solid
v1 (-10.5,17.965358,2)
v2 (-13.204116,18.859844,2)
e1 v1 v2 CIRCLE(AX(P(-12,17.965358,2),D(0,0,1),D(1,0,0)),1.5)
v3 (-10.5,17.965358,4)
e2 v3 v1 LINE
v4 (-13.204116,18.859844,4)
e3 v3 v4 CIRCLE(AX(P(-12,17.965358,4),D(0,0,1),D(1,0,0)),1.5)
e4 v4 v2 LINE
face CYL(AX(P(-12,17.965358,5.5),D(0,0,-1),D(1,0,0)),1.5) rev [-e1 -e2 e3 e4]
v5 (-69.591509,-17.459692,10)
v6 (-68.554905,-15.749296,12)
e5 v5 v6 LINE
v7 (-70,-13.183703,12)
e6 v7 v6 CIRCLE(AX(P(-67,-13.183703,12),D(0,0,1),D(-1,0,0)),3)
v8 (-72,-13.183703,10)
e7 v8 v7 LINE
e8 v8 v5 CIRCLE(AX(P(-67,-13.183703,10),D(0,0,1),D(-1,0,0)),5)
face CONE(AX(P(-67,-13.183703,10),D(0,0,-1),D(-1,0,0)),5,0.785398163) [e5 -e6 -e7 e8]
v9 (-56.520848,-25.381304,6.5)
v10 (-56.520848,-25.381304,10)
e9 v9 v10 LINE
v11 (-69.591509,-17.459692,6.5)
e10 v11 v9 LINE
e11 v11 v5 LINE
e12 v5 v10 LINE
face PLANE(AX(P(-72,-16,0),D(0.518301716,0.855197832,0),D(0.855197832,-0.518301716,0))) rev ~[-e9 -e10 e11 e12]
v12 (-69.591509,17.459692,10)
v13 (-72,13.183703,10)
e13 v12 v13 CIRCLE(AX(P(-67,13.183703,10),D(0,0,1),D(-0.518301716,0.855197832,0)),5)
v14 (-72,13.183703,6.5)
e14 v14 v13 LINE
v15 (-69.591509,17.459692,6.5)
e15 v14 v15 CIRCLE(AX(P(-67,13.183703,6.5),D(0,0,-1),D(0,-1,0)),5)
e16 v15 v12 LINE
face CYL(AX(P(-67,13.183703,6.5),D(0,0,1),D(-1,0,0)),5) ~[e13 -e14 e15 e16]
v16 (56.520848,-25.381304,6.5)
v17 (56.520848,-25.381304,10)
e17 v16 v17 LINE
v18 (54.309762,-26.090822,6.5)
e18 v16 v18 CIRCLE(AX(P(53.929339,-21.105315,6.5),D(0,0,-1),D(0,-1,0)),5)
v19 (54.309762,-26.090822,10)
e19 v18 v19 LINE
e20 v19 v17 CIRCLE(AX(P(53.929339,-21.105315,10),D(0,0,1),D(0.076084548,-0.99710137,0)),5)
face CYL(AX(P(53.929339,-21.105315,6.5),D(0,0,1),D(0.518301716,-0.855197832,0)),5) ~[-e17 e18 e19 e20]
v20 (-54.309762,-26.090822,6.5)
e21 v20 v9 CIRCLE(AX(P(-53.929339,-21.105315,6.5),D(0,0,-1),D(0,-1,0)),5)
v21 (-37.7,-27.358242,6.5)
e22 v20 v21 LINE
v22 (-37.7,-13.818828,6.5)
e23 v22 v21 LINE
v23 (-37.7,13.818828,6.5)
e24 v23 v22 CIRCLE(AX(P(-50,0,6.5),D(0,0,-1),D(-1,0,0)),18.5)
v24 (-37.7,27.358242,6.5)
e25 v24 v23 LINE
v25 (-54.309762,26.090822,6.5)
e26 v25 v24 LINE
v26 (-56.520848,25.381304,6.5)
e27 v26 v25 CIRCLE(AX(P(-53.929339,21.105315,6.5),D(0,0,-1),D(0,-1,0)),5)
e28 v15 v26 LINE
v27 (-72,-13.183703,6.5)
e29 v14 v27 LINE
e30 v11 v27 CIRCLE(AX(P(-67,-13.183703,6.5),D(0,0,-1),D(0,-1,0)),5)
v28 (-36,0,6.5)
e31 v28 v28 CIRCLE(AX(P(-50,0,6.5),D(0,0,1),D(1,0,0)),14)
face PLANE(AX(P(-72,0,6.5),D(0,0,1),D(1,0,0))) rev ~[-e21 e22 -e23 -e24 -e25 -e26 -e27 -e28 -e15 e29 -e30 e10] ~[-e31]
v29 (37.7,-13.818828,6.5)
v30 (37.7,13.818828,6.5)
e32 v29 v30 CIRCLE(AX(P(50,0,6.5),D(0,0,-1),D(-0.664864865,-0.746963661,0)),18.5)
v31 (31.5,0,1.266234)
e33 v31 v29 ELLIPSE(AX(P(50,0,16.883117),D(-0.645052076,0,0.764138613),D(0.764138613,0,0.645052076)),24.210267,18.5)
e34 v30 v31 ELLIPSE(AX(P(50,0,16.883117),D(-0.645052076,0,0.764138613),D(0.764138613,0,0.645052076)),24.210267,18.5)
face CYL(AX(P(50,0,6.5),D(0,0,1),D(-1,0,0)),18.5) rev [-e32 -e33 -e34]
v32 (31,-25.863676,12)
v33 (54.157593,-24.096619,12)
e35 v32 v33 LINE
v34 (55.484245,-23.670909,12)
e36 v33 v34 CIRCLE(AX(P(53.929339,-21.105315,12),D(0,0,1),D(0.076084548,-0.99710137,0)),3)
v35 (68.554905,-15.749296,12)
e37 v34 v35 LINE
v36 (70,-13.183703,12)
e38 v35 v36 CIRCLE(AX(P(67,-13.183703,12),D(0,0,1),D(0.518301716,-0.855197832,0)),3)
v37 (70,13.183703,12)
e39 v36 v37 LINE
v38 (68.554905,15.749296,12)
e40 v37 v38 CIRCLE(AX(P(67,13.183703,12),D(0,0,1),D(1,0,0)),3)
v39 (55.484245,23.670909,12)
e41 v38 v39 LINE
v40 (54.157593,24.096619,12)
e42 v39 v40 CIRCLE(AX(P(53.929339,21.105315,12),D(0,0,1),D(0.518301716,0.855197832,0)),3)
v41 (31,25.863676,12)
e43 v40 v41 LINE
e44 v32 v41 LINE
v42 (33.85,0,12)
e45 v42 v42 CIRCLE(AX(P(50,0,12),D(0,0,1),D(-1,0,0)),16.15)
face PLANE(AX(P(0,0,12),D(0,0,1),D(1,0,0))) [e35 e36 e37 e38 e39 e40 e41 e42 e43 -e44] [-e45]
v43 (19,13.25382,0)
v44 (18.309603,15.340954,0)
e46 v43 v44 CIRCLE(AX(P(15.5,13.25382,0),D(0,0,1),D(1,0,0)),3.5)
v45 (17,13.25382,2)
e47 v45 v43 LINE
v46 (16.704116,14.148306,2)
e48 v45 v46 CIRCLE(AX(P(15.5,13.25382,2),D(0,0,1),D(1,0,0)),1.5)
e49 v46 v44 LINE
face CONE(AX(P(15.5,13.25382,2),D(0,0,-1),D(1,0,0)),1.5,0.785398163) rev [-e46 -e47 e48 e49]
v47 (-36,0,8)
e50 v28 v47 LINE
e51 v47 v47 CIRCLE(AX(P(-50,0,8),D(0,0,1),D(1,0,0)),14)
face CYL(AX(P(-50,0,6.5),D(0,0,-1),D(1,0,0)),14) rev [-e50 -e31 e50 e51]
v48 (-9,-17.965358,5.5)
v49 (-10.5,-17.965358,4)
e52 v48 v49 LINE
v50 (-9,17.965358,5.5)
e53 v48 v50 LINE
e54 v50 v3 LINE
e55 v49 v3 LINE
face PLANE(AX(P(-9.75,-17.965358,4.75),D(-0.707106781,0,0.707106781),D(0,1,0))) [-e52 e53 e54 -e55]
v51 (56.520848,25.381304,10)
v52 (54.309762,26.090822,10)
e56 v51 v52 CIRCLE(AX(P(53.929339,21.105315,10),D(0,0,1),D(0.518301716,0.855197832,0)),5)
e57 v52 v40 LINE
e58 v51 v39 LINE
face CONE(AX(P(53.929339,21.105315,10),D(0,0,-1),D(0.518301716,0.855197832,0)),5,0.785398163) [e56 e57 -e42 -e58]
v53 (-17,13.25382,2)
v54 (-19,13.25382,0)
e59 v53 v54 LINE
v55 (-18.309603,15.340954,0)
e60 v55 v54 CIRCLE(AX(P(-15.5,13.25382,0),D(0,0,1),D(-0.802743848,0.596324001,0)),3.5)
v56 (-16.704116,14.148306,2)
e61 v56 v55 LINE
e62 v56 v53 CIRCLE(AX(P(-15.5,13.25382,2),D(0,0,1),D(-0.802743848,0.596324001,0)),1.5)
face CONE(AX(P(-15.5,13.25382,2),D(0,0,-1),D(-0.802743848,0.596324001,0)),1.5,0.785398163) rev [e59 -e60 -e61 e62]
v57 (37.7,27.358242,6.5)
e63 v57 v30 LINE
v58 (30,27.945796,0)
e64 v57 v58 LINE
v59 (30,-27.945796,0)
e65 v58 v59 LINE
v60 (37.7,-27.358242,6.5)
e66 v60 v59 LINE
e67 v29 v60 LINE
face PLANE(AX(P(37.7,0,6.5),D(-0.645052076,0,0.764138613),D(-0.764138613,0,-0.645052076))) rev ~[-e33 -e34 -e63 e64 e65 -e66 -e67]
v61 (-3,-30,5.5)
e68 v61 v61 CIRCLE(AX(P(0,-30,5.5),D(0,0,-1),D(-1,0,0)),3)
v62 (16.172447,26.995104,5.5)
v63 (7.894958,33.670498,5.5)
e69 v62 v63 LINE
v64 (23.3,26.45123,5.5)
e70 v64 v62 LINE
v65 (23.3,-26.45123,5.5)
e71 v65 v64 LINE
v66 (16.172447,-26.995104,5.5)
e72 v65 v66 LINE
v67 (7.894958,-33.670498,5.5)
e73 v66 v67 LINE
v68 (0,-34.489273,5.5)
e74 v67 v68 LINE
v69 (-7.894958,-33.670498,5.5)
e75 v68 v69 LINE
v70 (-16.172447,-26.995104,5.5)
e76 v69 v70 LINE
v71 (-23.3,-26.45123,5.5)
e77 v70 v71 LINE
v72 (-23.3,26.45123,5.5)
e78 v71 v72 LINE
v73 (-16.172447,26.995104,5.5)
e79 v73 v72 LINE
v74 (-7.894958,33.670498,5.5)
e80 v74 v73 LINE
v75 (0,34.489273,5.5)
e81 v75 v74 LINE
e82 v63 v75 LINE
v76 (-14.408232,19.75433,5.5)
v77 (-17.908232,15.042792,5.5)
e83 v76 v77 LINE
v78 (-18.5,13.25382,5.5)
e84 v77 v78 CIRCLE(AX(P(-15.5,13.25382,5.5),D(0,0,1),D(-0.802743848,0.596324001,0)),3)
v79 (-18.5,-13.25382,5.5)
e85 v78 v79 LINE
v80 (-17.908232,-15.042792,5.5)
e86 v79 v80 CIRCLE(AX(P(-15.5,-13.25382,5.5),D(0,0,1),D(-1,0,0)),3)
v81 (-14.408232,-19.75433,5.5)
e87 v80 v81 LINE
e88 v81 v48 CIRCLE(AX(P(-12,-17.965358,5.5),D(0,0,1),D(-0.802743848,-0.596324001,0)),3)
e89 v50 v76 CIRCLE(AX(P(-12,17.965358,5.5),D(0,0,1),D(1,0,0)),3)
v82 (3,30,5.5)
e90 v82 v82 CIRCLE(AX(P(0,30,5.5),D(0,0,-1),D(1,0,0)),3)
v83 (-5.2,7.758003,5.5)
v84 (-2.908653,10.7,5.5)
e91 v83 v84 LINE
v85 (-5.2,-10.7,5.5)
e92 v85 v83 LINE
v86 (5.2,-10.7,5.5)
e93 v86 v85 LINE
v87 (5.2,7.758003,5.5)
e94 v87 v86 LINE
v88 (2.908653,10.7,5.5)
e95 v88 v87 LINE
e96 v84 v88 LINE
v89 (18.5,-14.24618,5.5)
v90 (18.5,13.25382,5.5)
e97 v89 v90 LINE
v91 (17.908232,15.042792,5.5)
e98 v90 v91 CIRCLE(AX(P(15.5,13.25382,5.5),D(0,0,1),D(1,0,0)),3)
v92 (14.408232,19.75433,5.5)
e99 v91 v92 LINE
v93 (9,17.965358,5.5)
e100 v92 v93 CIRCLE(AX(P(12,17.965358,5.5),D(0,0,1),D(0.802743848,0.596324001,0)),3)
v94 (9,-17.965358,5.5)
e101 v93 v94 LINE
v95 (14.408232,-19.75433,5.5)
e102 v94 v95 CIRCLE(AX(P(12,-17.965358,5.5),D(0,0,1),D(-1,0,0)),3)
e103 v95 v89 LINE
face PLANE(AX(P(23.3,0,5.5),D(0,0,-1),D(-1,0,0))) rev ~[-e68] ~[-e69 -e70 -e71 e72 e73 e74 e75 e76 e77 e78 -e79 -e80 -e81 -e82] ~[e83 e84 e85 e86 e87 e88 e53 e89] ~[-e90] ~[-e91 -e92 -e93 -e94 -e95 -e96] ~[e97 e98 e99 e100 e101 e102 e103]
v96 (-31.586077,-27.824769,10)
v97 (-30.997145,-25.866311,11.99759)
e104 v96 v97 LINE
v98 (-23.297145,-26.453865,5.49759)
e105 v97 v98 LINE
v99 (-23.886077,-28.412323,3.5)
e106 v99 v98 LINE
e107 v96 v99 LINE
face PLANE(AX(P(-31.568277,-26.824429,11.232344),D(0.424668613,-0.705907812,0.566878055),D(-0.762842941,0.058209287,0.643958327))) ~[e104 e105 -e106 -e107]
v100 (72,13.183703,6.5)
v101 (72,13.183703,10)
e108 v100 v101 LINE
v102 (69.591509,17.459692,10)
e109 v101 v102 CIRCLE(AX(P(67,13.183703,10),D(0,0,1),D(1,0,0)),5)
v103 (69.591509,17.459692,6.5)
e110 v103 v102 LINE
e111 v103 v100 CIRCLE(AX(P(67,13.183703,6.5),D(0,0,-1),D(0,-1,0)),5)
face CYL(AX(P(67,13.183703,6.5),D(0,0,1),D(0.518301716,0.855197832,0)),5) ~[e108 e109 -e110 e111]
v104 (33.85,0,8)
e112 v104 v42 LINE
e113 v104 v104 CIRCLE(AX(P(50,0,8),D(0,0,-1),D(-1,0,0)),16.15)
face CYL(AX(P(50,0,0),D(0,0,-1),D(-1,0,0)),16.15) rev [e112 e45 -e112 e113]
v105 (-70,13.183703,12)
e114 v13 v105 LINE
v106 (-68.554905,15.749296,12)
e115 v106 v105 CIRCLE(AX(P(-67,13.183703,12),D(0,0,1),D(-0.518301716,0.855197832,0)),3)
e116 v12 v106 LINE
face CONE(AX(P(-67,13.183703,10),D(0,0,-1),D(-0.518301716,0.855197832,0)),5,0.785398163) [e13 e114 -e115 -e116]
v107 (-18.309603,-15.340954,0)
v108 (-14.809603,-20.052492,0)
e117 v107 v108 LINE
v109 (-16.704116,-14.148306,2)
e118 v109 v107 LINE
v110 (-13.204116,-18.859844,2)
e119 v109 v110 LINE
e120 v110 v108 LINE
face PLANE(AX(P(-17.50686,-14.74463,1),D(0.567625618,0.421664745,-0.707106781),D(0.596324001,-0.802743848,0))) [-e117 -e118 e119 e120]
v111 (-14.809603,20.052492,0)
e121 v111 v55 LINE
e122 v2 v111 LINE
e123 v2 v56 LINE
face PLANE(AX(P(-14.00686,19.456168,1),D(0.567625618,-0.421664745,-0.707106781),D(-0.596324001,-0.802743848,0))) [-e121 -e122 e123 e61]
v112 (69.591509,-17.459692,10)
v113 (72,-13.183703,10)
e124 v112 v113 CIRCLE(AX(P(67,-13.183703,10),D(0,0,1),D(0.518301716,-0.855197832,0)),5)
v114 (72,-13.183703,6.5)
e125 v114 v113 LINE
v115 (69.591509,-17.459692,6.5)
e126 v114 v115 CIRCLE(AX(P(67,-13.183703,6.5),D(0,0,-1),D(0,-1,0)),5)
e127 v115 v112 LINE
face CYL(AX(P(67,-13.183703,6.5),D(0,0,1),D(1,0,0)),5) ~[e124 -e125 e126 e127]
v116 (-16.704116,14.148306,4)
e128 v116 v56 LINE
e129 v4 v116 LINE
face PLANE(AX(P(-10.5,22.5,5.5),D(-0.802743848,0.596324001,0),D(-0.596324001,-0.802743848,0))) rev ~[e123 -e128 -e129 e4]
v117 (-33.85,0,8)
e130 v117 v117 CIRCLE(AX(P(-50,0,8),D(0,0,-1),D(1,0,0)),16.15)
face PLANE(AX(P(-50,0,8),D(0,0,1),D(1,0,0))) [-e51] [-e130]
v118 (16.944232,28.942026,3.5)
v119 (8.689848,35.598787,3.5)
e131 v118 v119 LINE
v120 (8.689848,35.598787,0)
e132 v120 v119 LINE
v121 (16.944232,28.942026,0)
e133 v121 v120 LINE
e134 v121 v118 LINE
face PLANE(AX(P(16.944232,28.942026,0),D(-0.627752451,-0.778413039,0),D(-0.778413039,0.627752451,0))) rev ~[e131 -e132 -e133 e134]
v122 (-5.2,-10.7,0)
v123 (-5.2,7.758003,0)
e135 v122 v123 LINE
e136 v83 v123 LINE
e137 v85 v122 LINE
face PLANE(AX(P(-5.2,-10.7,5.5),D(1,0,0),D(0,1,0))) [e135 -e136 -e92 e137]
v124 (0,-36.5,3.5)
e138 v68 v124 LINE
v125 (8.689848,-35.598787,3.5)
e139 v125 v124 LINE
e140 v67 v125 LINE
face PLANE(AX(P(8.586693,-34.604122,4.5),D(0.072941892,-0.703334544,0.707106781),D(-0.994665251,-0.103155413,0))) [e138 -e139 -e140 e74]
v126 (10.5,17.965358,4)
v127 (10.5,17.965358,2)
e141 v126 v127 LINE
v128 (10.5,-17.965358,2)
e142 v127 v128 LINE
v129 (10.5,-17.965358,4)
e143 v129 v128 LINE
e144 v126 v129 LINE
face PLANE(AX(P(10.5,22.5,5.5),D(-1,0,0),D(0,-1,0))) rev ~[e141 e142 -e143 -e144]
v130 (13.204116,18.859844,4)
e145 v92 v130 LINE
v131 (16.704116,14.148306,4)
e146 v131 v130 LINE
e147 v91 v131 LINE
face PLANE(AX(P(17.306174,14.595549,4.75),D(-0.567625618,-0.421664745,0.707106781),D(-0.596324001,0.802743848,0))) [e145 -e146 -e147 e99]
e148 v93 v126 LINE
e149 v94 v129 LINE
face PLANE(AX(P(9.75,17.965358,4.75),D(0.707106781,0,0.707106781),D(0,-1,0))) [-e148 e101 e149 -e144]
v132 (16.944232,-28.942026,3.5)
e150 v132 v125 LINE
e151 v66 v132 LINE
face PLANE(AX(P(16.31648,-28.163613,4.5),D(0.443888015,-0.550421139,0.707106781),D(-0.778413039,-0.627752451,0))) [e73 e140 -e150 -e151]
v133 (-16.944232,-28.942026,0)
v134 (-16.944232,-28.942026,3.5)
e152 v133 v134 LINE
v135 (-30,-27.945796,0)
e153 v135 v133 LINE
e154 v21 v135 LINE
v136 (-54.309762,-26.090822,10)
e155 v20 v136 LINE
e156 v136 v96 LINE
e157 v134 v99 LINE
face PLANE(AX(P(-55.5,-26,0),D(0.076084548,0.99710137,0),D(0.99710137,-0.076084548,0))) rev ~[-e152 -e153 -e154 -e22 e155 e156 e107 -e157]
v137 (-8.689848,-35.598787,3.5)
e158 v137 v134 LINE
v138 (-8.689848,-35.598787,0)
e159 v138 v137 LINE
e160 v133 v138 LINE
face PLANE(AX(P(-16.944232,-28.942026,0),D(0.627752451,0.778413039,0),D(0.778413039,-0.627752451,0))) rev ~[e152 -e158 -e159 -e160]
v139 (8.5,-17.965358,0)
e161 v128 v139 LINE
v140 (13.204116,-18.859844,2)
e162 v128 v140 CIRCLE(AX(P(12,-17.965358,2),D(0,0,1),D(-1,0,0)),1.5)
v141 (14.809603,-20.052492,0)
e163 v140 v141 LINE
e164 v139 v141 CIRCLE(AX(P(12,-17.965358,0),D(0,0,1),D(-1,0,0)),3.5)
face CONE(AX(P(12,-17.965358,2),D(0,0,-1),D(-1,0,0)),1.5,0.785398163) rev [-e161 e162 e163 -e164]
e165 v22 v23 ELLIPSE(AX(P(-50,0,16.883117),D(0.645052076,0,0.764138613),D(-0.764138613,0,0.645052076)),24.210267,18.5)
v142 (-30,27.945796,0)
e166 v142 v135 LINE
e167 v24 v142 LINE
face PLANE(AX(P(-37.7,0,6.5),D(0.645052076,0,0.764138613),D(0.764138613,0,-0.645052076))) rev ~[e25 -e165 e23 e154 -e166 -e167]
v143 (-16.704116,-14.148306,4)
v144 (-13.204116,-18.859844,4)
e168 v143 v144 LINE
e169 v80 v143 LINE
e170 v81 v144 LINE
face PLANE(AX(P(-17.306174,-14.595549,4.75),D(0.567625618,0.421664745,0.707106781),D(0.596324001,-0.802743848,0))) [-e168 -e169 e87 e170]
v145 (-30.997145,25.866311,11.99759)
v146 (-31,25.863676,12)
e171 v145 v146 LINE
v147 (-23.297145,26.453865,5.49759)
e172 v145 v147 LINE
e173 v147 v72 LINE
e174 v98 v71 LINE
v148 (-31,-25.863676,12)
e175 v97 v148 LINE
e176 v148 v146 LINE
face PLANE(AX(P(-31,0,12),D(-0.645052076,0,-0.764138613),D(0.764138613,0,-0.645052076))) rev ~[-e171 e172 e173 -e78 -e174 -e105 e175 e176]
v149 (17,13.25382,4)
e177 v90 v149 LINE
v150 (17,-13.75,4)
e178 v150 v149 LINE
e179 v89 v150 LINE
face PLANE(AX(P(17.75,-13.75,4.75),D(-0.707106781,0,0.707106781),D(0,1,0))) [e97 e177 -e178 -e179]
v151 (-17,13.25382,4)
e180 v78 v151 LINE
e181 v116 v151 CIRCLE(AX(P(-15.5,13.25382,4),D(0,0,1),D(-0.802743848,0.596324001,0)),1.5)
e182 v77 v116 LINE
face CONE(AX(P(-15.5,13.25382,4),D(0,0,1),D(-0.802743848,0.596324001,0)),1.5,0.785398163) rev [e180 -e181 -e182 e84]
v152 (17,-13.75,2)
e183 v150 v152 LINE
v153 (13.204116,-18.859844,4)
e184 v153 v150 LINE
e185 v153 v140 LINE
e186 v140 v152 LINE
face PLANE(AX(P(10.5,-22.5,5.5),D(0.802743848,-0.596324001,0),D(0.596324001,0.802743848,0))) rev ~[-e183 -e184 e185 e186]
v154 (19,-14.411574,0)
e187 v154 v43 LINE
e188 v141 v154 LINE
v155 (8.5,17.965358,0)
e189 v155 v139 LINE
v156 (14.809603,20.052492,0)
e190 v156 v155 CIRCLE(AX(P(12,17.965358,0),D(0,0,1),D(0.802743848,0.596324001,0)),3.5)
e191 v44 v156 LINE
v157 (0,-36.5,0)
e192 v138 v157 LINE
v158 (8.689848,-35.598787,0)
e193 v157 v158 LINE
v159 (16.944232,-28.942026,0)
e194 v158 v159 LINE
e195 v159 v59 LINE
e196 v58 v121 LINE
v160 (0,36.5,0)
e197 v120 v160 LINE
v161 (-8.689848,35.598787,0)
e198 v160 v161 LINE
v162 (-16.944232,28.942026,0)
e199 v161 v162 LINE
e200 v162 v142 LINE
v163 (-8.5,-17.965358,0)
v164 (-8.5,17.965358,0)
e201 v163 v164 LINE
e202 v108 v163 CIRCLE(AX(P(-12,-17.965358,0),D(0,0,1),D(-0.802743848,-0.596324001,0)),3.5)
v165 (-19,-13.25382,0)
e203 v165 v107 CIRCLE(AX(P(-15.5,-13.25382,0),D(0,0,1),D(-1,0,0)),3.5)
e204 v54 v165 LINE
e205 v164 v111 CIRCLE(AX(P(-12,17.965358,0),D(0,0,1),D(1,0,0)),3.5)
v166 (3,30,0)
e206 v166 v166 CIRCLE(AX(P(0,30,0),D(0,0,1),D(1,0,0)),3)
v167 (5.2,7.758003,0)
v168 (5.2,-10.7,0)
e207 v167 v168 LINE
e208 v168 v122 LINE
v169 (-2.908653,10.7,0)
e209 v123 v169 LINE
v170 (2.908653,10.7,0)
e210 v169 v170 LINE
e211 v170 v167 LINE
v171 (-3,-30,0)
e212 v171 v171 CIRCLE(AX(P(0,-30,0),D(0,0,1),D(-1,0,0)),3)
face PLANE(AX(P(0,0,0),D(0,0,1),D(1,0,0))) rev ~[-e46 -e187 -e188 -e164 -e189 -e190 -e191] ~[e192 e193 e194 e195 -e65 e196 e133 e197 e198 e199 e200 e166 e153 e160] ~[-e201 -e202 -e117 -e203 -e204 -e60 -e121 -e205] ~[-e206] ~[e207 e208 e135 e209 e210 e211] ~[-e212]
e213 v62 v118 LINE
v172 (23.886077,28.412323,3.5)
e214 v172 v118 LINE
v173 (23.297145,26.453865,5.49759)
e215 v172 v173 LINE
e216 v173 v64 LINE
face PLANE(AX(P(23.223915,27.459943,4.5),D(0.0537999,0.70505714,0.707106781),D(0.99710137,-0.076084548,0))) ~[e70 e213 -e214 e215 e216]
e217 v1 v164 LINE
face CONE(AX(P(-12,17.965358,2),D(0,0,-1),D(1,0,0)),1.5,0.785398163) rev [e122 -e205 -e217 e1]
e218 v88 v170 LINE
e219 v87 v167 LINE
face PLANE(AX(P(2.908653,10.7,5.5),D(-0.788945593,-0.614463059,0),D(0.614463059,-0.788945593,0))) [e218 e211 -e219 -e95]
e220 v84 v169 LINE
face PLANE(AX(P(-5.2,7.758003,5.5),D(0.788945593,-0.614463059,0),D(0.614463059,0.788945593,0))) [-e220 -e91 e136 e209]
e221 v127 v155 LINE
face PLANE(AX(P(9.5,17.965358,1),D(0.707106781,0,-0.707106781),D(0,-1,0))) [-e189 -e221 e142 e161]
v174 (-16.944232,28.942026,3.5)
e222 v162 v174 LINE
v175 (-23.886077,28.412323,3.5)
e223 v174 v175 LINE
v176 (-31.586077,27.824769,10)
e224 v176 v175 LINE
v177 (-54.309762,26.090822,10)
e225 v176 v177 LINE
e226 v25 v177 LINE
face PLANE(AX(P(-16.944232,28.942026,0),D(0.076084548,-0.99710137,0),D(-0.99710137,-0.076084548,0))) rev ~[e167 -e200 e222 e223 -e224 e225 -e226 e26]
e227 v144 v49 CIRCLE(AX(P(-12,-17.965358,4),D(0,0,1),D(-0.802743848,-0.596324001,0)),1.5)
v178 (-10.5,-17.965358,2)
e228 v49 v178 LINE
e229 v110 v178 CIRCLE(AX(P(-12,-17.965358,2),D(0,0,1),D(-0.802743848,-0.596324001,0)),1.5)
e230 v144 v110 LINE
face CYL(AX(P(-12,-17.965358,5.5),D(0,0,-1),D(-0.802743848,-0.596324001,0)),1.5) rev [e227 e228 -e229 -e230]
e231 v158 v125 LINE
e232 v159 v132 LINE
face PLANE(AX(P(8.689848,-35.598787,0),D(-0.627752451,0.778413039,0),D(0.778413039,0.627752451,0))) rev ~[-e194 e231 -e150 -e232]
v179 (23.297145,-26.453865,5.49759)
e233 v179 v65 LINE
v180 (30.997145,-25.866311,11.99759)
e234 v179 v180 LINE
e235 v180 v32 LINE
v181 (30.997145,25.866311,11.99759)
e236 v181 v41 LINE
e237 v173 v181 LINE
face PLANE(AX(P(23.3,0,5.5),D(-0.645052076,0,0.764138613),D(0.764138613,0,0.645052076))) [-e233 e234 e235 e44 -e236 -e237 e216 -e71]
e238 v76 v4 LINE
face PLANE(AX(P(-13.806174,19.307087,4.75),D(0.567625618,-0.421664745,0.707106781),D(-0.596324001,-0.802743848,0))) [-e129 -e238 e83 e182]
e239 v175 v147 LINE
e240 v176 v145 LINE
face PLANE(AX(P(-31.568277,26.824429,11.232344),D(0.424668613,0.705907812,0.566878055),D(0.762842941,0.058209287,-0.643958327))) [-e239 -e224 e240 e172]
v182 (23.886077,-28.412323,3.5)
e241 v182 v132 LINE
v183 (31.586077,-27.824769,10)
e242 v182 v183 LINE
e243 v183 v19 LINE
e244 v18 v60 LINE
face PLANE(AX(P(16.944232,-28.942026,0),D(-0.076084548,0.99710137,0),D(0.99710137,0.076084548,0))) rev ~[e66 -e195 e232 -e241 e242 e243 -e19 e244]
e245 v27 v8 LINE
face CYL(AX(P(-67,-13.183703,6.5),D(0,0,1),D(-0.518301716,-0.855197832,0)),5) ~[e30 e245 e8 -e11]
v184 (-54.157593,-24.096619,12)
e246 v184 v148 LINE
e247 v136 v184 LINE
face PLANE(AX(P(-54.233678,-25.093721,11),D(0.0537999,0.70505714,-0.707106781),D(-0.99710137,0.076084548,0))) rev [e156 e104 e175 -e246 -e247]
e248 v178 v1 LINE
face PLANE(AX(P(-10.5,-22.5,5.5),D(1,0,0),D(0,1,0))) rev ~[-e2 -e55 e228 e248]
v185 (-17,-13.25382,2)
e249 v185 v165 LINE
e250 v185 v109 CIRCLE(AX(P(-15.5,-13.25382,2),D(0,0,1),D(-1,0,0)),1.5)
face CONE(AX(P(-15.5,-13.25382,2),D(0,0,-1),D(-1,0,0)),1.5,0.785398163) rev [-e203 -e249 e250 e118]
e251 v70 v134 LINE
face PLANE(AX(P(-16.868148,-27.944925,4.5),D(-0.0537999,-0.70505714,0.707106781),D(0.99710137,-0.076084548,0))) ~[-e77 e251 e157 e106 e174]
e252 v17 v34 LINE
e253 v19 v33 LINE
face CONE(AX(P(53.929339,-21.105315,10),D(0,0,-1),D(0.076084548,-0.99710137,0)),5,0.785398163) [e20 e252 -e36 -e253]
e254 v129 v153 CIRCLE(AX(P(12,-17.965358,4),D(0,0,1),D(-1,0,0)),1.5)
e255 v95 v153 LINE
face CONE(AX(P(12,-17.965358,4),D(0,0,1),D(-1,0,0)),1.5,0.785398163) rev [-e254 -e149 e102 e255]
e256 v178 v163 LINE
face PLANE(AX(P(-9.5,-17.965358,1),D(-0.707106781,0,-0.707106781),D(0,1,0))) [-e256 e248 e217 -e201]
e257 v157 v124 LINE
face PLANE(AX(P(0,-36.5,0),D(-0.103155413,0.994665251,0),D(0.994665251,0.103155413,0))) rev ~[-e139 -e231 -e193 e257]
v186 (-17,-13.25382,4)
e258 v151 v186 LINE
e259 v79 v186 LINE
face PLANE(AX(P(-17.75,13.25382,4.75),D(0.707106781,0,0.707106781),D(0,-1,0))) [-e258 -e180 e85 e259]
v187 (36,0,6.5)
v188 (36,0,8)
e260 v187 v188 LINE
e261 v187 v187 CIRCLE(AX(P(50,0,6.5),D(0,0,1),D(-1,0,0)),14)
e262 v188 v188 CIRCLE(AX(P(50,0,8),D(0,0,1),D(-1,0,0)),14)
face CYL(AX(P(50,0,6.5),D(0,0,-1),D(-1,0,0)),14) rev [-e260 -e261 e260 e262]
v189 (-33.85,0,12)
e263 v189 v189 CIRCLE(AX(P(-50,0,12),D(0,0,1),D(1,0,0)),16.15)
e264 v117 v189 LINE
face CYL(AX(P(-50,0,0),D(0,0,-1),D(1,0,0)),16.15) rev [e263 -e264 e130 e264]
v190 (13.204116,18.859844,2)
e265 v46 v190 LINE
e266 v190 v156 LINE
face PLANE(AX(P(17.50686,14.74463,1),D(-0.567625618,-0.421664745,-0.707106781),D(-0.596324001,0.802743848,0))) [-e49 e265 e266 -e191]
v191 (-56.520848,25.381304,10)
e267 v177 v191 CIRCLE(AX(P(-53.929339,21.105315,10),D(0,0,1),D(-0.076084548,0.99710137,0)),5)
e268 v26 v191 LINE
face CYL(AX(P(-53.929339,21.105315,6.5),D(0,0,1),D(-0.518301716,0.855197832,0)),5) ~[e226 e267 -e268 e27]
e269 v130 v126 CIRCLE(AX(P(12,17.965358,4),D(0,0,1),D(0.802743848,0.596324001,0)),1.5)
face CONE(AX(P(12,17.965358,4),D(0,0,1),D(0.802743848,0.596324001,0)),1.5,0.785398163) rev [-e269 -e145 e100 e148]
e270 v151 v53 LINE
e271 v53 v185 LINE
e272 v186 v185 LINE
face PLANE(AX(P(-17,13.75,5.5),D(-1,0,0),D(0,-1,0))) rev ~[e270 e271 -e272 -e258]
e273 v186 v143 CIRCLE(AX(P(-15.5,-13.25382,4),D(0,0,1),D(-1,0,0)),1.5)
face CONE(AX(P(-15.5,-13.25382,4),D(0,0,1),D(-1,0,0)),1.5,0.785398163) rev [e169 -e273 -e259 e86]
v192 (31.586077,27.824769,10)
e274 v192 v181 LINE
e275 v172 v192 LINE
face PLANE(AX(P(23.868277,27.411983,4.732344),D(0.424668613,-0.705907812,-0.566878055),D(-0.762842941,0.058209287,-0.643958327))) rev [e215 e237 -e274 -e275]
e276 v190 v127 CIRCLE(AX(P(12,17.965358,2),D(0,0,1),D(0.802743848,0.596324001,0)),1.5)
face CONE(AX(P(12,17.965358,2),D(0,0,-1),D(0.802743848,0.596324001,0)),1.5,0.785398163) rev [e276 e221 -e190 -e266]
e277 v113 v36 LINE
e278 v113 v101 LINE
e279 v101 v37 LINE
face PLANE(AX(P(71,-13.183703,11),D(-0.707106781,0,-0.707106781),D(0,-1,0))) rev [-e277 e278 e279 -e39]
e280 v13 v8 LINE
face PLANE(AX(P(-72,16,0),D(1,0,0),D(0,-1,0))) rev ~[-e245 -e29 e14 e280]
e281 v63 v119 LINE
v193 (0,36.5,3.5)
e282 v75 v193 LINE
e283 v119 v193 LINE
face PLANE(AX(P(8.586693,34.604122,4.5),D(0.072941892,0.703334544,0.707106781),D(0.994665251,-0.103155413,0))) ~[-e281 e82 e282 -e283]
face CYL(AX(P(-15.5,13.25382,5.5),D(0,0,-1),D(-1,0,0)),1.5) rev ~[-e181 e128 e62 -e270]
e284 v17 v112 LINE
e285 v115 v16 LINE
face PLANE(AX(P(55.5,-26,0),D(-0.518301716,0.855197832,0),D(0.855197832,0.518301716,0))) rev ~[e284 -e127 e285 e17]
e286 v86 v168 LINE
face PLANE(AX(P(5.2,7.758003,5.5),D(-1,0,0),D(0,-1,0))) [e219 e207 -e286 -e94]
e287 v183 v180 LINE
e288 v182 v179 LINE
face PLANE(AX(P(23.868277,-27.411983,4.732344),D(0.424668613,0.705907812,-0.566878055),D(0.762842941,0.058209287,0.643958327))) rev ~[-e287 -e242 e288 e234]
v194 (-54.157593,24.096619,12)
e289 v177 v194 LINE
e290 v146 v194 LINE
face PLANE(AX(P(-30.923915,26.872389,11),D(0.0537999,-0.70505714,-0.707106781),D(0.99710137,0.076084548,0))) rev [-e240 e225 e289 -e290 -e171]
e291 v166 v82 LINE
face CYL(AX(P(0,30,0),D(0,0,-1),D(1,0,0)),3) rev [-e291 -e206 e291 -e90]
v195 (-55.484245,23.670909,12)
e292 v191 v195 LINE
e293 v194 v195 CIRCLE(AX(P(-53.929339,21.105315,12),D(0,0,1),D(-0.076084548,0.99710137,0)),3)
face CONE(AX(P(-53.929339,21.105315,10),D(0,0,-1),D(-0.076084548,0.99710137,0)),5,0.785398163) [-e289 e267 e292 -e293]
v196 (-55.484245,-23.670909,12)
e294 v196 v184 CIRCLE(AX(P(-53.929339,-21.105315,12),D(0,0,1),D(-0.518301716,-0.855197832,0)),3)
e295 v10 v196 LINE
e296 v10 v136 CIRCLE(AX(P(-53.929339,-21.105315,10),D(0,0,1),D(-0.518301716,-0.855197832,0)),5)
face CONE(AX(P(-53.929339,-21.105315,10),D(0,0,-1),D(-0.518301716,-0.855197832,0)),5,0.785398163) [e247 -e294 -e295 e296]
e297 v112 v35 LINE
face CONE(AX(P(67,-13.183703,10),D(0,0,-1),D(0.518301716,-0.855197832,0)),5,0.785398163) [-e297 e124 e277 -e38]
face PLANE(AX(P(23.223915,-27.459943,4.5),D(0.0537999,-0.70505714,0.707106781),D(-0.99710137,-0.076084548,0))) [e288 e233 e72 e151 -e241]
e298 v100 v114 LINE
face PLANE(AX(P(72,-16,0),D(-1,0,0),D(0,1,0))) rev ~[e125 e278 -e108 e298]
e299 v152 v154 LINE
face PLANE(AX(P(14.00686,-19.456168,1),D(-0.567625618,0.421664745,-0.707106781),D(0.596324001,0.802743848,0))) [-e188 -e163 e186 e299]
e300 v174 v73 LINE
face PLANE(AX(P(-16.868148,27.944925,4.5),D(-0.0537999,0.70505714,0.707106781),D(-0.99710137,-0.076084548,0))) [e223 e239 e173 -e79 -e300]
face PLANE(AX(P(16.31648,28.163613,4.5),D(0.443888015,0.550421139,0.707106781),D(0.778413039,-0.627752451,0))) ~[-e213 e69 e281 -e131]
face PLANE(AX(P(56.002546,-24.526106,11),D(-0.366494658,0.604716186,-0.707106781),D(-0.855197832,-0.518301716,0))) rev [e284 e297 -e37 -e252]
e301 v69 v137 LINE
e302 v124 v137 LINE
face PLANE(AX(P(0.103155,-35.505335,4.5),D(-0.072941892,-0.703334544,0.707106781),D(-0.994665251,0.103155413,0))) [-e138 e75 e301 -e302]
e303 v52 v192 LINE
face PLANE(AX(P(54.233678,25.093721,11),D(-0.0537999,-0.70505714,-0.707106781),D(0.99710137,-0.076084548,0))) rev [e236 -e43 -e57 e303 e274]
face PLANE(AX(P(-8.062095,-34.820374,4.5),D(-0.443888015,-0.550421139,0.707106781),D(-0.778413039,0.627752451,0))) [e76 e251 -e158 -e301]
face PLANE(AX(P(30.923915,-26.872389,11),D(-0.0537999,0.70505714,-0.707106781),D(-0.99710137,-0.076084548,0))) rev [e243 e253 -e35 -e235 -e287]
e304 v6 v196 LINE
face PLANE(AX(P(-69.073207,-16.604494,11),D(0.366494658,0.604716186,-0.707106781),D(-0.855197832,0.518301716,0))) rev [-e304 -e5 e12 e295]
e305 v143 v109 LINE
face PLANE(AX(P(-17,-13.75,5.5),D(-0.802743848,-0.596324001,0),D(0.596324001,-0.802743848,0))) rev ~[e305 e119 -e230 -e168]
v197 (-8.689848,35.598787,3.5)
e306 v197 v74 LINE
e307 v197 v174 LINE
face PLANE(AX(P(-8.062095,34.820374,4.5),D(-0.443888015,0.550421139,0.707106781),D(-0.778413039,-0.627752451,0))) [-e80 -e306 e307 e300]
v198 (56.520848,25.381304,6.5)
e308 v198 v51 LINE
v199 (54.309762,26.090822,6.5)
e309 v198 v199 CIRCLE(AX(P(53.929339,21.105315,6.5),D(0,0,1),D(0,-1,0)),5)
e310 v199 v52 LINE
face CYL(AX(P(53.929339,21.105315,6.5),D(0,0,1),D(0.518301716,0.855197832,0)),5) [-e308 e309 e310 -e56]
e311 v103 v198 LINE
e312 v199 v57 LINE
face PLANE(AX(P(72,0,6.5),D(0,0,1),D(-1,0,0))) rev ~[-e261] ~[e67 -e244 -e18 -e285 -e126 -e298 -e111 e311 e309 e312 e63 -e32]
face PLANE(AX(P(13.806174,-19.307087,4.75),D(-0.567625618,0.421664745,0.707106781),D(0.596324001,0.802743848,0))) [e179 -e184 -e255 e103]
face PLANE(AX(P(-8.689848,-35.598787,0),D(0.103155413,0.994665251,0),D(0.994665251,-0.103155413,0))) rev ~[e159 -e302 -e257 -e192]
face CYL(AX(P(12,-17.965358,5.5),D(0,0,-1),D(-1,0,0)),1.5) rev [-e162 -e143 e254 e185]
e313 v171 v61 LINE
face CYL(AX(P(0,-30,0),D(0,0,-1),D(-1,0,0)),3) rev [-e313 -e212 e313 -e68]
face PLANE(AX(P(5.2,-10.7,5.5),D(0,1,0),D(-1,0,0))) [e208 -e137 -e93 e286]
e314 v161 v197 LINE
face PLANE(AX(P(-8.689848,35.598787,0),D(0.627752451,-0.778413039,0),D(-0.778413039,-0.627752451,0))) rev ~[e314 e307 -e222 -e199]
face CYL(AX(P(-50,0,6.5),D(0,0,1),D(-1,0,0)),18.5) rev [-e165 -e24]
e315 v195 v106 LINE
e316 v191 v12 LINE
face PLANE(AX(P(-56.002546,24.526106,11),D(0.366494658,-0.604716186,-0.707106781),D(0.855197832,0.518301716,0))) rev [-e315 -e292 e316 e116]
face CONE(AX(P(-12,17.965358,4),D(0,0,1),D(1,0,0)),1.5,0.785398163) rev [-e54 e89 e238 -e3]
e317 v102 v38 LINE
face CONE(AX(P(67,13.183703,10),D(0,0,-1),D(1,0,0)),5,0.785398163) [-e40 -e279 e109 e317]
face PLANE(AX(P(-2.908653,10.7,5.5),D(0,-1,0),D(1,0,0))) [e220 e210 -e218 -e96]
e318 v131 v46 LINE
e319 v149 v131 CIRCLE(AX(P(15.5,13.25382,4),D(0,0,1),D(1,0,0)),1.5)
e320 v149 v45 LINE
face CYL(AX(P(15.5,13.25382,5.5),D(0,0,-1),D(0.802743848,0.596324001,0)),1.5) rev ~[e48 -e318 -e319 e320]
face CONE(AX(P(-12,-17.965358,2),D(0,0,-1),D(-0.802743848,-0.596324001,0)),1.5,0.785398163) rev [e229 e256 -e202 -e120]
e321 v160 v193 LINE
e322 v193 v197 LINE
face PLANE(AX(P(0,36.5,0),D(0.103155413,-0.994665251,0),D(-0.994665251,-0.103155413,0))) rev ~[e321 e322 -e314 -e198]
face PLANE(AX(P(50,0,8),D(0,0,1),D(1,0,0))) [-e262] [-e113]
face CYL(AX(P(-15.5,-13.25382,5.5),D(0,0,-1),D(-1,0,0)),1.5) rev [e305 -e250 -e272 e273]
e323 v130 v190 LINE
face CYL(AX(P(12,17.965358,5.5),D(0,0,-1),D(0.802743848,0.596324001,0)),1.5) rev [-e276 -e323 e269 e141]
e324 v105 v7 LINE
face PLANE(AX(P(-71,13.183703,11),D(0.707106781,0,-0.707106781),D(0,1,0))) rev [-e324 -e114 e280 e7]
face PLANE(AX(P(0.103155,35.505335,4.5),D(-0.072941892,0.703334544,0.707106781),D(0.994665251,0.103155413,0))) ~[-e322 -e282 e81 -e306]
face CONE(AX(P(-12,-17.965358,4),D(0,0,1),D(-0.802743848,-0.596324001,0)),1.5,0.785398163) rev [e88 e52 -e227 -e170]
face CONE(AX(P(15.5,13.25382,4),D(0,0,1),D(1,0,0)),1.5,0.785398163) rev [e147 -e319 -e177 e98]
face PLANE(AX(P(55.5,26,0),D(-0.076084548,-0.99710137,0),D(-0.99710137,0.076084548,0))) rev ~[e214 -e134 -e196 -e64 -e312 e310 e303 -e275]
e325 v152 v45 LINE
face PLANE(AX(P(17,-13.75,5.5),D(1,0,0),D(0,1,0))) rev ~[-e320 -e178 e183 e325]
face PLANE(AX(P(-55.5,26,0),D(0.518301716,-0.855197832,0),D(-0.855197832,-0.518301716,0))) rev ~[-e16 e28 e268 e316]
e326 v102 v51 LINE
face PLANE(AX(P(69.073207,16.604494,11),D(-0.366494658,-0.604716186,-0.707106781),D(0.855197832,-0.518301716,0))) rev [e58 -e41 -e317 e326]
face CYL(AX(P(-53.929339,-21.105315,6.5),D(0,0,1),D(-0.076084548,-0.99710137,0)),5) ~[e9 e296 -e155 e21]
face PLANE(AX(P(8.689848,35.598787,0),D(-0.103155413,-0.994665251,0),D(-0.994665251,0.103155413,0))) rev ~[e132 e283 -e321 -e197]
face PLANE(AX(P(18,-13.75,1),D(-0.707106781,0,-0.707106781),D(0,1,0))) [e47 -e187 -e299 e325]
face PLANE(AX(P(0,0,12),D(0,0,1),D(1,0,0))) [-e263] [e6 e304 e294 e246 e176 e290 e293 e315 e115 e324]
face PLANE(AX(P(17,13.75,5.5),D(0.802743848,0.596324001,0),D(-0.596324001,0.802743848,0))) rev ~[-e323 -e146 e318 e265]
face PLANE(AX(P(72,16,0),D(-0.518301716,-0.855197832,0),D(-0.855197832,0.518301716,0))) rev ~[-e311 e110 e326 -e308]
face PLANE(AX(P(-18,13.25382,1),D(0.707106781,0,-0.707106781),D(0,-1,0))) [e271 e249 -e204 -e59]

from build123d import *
from OCP.BRepFilletAPI import BRepFilletAPI_MakeChamfer

# Parameters (mm, degrees)
SKETCH1_R               = 3
SKETCH1_R_2             = 16.15
BOSS_EXTRUDE1_DEPTH     = 12
CUT_EXTRUDE1_DEPTH      = 82.610354735
CUT_EXTRUDE1_DEPTH_BACK = 82.610354735
CUT_EXTRUDE2_DEPTH      = 81.984566431
CUT_EXTRUDE2_DEPTH_BACK = 81.984566431
CUT_EXTRUDE3_DEPTH      = 81.984566431
CUT_EXTRUDE3_DEPTH_BACK = 81.984566431
FILLET1_R               = 1.5
SKETCH5_R               = 18.073165259
SKETCH5_R_2             = 14
BOSS_EXTRUDE2_DEPTH     = 1.5
FILLET2_R               = 5
CHAMFER1_SIZE           = 2
CHAMFER1_SIZE2          = 1.908627476
SKETCH7_R               = 18.5
CUT_EXTRUDE4_DEPTH      = 81.984566431
CHAMFER2_SIZE           = 2
CHAMFER3_SIZE           = 1.5


with BuildPart() as part:
    # Sketch1 → Boss-Extrude1 (new body)
    with BuildSketch(Plane.XY):
        Polygon((-72, 16), (-72, -16), (-55.5, -26), (-16.944232072, -28.942026003), (-8.689847933, -35.598787405), (0, -36.5), (8.689847933, -35.598787405), (16.944232072, -28.942026003), (55.5, -26), (72, -16), (72, 16), (55.5, 26), (16.944232072, 28.942026003), (8.689847933, 35.598787405), (0, 36.5), (-8.689847933, 35.598787405), (-16.944232072, 28.942026003), (-55.5, 26), align=None)
        with Locations((0, 30)):
            Circle(SKETCH1_R, mode=Mode.SUBTRACT)
        with Locations((-50, 0)):
            Circle(SKETCH1_R_2, mode=Mode.SUBTRACT)
        with Locations(Location((0, -30, 0), (0, 0, 180))):
            Circle(SKETCH1_R, mode=Mode.SUBTRACT)
        with Locations(Location((50, 0, 0), (0, 0, 180))):
            Circle(SKETCH1_R_2, mode=Mode.SUBTRACT)
    extrude(amount=BOSS_EXTRUDE1_DEPTH)

    # Sketch2 → Cut-Extrude1 (cut, two sides)
    with BuildSketch(Plane(origin=(0, 0, 0), x_dir=(1, 0, 0), z_dir=(0, 1, 0))) as cut_extrude1_sk:
        Polygon((-31, -12), (-23.3, -5.5), (4.394576276, -5.5), (23.3, -5.5), (31, -12), align=None)
        Polygon((-72, 0), (-72, -6.5), (-37.7, -6.5), (-30, 0), align=None)
        Polygon((30, 0), (72, 0), (72, -6.5), (37.7, -6.5), align=None)
    extrude(amount=CUT_EXTRUDE1_DEPTH, mode=Mode.SUBTRACT)
    extrude(cut_extrude1_sk.sketch, amount=-CUT_EXTRUDE1_DEPTH_BACK, mode=Mode.SUBTRACT)

    # Sketch3 → Cut-Extrude2 (cut, two sides)
    with BuildSketch(Plane.XY.offset(5.5)) as cut_extrude2_sk:
        Polygon((5.2, -10.7), (-5.2, -10.7), (-5.2, 7.758003241), (-2.908652734, 10.7), (2.908652734, 10.7), (5.2, 7.758003241), align=None)
    extrude(amount=CUT_EXTRUDE2_DEPTH, mode=Mode.SUBTRACT)
    extrude(cut_extrude2_sk.sketch, amount=-CUT_EXTRUDE2_DEPTH_BACK, mode=Mode.SUBTRACT)

    # Sketch4 → Cut-Extrude3 (cut, two sides)
    with BuildSketch(Plane.XY.offset(5.5)) as cut_extrude3_sk:
        Polygon((-17, 13.75), (-17, -13.75), (-10.5, -22.5), (-10.5, 22.5), align=None)
        Polygon((17, 13.75), (10.5, 22.5), (10.5, -22.5), (17, -13.75), align=None)
    extrude(amount=CUT_EXTRUDE3_DEPTH, mode=Mode.SUBTRACT)
    extrude(cut_extrude3_sk.sketch, amount=-CUT_EXTRUDE3_DEPTH_BACK, mode=Mode.SUBTRACT)

    # Fillet1
    fillet1_edges = [part.edges().sort_by_distance(p)[0] for p in [
        (-10.5, -22.5, 2.75),
        (-17, -13.75, 2.75),
        (-17, 13.75, 2.75),
        (-10.5, 22.5, 2.75),
        (17, 13.75, 2.75),
        (10.5, -22.5, 2.75),
        (10.5, 22.5, 2.75),
    ]]
    fillet(fillet1_edges, radius=FILLET1_R)

    # Sketch5 → Boss-Extrude2 (add)
    with BuildSketch(Plane.XY.offset(6.5)):
        with Locations((-50, 0)):
            Circle(SKETCH5_R)
        with Locations((-50, 0)):
            Circle(SKETCH5_R_2, mode=Mode.SUBTRACT)
        with Locations((50, 0)):
            Circle(SKETCH5_R)
        with Locations(Location((50, 0, 0), (0, 0, 180))):
            Circle(SKETCH5_R_2, mode=Mode.SUBTRACT)
    extrude(amount=BOSS_EXTRUDE2_DEPTH)

    # Fillet2
    fillet2_edges = [part.edges().sort_by_distance(p)[0] for p in [
        (55.5, 26, 9.25),
        (72, 16, 9.25),
        (72, -16, 9.25),
        (55.5, -26, 9.25),
        (-55.5, -26, 9.25),
        (-72, -16, 9.25),
        (-72, 16, 9.25),
        (-55.5, 26, 9.25),
    ]]
    fillet(fillet2_edges, radius=FILLET2_R)

    # Chamfer1: one chamfer whose edges measure the first distance from different faces: ONE call of the kernel's chamfer builder (chamfer() names one face for all edges)
    chamfer1_edges_1 = [part.edges().sort_by_distance(p)[0] for p in [
        (-27.15, 28.163267435, 8.75),
        (-27.15, -28.163267435, 8.75),
    ]]
    chamfer1_side_1 = [part.faces().sort_by_distance(p)[0] for p in [
        (-27.136613276, 0, 8.738699519),
    ]]
    chamfer1_edges_2 = [part.edges().sort_by_distance(p)[0] for p in [
        (27.15, -28.163267435, 8.75),
        (27.15, 28.163267435, 8.75),
    ]]
    chamfer1_side_2 = [part.faces().sort_by_distance(p)[0] for p in [
        (27.136613276, 0, 8.738699519),
    ]]
    chamfer1_edges_3 = [part.edges().sort_by_distance(p)[0] for p in [
        (-12.817040003, -32.270406704, 5.5),
        (-20.122116036, -28.699535248, 5.5),
        (-20.122116036, 28.699535248, 5.5),
        (-12.817040003, 32.270406704, 5.5),
        (-4.344923967, 36.049393703, 5.5),
        (4.344923967, 36.049393703, 5.5),
        (12.817040003, 32.270406704, 5.5),
        (20.122116036, 28.699535248, 5.5),
        (20.122116036, -28.699535248, 5.5),
        (12.817040003, -32.270406704, 5.5),
        (4.344923967, -36.049393703, 5.5),
        (-4.344923967, -36.049393703, 5.5),
        (42.654881047, 26.980156174, 12),
        (63.056178259, 21.420498025, 12),
        (63.056178259, -21.420498025, 12),
        (72, 0, 12),
        (71.356463181, 15.637521788, 12),
        (71.356463181, -15.637521788, 12),
        (55.457065699, -25.866202879, 12),
        (55.457065699, 25.866202879, 12),
        (-42.654881047, -26.980156174, 12),
        (-63.056178259, -21.420498025, 12),
        (-63.056178259, 21.420498025, 12),
        (-72, 0, 12),
        (-71.356463181, 15.637521788, 12),
        (-71.356463181, -15.637521788, 12),
        (-55.457065699, 25.866202879, 12),
        (-55.457065699, -25.866202879, 12),
        (42.654881047, -26.980156174, 12),
        (-42.654881047, 26.980156174, 12),
    ]]
    chamfer1 = BRepFilletAPI_MakeChamfer(part.part.solid().wrapped)
    for e in chamfer1_edges_1:
        chamfer1.Add(CHAMFER1_SIZE, CHAMFER1_SIZE2, e.wrapped, chamfer1_side_1[0].wrapped)  # the first distance lies on this face
    for e in chamfer1_edges_2:
        chamfer1.Add(CHAMFER1_SIZE, CHAMFER1_SIZE2, e.wrapped, chamfer1_side_2[0].wrapped)  # the first distance lies on this face
    for e in chamfer1_edges_3:
        chamfer1.Add(CHAMFER1_SIZE, e.wrapped)
    add(Compound.cast(chamfer1.Shape()), mode=Mode.REPLACE)

    # Sketch7 → Cut-Extrude4 (cut, through all)
    with BuildSketch(Plane(origin=(0, 0, 6.5), x_dir=(-1, 0, 0), z_dir=(0, 0, -1))):
        with Locations((-50, 0)):
            Circle(SKETCH7_R)
        with Locations((50, 0)):
            Circle(SKETCH7_R)
    extrude(amount=CUT_EXTRUDE4_DEPTH, mode=Mode.SUBTRACT)

    # Chamfer2
    chamfer2_edges = [part.edges().sort_by_distance(p)[0] for p in [
        (17, -0.248090155, 0),
        (14.954115772, 16.504074922, 0),
        (10.5, 0, 0),
        (15.102057886, -16.304922077, 0),
        (-10.5, 0, 0),
        (-14.954115772, -16.504074922, 0),
        (-17, 0, 0),
        (-14.954115772, 16.504074922, 0),
        (16.924109135, 13.724896298, 0),
        (11.528923392, 19.389467286, 0),
        (11.528923392, -19.389467286, 0),
        (-11.528923392, -19.389467286, 0),
        (-16.924109135, -13.724896298, 0),
        (-16.924109135, 13.724896298, 0),
        (-11.528923392, 19.389467286, 0),
    ]]
    chamfer(chamfer2_edges, length=CHAMFER2_SIZE)

    # Chamfer3
    chamfer3_edges = [part.edges().sort_by_distance(p)[0] for p in [
        (15.102057886, -16.304922077, 5.5),
        (14.954115772, 16.504074922, 5.5),
        (17, -0.248090155, 5.5),
        (10.5, 0, 5.5),
        (-10.5, 0, 5.5),
        (-14.954115772, -16.504074922, 5.5),
        (-17, 0, 5.5),
        (-14.954115772, 16.504074922, 5.5),
        (16.924109135, 13.724896298, 5.5),
        (11.528923392, 19.389467286, 5.5),
        (11.528923392, -19.389467286, 5.5),
        (-11.528923392, -19.389467286, 5.5),
        (-16.924109135, -13.724896298, 5.5),
        (-16.924109135, 13.724896298, 5.5),
        (-11.528923392, 19.389467286, 5.5),
    ]]
    chamfer(chamfer3_edges, length=CHAMFER3_SIZE)


solid = part.part
